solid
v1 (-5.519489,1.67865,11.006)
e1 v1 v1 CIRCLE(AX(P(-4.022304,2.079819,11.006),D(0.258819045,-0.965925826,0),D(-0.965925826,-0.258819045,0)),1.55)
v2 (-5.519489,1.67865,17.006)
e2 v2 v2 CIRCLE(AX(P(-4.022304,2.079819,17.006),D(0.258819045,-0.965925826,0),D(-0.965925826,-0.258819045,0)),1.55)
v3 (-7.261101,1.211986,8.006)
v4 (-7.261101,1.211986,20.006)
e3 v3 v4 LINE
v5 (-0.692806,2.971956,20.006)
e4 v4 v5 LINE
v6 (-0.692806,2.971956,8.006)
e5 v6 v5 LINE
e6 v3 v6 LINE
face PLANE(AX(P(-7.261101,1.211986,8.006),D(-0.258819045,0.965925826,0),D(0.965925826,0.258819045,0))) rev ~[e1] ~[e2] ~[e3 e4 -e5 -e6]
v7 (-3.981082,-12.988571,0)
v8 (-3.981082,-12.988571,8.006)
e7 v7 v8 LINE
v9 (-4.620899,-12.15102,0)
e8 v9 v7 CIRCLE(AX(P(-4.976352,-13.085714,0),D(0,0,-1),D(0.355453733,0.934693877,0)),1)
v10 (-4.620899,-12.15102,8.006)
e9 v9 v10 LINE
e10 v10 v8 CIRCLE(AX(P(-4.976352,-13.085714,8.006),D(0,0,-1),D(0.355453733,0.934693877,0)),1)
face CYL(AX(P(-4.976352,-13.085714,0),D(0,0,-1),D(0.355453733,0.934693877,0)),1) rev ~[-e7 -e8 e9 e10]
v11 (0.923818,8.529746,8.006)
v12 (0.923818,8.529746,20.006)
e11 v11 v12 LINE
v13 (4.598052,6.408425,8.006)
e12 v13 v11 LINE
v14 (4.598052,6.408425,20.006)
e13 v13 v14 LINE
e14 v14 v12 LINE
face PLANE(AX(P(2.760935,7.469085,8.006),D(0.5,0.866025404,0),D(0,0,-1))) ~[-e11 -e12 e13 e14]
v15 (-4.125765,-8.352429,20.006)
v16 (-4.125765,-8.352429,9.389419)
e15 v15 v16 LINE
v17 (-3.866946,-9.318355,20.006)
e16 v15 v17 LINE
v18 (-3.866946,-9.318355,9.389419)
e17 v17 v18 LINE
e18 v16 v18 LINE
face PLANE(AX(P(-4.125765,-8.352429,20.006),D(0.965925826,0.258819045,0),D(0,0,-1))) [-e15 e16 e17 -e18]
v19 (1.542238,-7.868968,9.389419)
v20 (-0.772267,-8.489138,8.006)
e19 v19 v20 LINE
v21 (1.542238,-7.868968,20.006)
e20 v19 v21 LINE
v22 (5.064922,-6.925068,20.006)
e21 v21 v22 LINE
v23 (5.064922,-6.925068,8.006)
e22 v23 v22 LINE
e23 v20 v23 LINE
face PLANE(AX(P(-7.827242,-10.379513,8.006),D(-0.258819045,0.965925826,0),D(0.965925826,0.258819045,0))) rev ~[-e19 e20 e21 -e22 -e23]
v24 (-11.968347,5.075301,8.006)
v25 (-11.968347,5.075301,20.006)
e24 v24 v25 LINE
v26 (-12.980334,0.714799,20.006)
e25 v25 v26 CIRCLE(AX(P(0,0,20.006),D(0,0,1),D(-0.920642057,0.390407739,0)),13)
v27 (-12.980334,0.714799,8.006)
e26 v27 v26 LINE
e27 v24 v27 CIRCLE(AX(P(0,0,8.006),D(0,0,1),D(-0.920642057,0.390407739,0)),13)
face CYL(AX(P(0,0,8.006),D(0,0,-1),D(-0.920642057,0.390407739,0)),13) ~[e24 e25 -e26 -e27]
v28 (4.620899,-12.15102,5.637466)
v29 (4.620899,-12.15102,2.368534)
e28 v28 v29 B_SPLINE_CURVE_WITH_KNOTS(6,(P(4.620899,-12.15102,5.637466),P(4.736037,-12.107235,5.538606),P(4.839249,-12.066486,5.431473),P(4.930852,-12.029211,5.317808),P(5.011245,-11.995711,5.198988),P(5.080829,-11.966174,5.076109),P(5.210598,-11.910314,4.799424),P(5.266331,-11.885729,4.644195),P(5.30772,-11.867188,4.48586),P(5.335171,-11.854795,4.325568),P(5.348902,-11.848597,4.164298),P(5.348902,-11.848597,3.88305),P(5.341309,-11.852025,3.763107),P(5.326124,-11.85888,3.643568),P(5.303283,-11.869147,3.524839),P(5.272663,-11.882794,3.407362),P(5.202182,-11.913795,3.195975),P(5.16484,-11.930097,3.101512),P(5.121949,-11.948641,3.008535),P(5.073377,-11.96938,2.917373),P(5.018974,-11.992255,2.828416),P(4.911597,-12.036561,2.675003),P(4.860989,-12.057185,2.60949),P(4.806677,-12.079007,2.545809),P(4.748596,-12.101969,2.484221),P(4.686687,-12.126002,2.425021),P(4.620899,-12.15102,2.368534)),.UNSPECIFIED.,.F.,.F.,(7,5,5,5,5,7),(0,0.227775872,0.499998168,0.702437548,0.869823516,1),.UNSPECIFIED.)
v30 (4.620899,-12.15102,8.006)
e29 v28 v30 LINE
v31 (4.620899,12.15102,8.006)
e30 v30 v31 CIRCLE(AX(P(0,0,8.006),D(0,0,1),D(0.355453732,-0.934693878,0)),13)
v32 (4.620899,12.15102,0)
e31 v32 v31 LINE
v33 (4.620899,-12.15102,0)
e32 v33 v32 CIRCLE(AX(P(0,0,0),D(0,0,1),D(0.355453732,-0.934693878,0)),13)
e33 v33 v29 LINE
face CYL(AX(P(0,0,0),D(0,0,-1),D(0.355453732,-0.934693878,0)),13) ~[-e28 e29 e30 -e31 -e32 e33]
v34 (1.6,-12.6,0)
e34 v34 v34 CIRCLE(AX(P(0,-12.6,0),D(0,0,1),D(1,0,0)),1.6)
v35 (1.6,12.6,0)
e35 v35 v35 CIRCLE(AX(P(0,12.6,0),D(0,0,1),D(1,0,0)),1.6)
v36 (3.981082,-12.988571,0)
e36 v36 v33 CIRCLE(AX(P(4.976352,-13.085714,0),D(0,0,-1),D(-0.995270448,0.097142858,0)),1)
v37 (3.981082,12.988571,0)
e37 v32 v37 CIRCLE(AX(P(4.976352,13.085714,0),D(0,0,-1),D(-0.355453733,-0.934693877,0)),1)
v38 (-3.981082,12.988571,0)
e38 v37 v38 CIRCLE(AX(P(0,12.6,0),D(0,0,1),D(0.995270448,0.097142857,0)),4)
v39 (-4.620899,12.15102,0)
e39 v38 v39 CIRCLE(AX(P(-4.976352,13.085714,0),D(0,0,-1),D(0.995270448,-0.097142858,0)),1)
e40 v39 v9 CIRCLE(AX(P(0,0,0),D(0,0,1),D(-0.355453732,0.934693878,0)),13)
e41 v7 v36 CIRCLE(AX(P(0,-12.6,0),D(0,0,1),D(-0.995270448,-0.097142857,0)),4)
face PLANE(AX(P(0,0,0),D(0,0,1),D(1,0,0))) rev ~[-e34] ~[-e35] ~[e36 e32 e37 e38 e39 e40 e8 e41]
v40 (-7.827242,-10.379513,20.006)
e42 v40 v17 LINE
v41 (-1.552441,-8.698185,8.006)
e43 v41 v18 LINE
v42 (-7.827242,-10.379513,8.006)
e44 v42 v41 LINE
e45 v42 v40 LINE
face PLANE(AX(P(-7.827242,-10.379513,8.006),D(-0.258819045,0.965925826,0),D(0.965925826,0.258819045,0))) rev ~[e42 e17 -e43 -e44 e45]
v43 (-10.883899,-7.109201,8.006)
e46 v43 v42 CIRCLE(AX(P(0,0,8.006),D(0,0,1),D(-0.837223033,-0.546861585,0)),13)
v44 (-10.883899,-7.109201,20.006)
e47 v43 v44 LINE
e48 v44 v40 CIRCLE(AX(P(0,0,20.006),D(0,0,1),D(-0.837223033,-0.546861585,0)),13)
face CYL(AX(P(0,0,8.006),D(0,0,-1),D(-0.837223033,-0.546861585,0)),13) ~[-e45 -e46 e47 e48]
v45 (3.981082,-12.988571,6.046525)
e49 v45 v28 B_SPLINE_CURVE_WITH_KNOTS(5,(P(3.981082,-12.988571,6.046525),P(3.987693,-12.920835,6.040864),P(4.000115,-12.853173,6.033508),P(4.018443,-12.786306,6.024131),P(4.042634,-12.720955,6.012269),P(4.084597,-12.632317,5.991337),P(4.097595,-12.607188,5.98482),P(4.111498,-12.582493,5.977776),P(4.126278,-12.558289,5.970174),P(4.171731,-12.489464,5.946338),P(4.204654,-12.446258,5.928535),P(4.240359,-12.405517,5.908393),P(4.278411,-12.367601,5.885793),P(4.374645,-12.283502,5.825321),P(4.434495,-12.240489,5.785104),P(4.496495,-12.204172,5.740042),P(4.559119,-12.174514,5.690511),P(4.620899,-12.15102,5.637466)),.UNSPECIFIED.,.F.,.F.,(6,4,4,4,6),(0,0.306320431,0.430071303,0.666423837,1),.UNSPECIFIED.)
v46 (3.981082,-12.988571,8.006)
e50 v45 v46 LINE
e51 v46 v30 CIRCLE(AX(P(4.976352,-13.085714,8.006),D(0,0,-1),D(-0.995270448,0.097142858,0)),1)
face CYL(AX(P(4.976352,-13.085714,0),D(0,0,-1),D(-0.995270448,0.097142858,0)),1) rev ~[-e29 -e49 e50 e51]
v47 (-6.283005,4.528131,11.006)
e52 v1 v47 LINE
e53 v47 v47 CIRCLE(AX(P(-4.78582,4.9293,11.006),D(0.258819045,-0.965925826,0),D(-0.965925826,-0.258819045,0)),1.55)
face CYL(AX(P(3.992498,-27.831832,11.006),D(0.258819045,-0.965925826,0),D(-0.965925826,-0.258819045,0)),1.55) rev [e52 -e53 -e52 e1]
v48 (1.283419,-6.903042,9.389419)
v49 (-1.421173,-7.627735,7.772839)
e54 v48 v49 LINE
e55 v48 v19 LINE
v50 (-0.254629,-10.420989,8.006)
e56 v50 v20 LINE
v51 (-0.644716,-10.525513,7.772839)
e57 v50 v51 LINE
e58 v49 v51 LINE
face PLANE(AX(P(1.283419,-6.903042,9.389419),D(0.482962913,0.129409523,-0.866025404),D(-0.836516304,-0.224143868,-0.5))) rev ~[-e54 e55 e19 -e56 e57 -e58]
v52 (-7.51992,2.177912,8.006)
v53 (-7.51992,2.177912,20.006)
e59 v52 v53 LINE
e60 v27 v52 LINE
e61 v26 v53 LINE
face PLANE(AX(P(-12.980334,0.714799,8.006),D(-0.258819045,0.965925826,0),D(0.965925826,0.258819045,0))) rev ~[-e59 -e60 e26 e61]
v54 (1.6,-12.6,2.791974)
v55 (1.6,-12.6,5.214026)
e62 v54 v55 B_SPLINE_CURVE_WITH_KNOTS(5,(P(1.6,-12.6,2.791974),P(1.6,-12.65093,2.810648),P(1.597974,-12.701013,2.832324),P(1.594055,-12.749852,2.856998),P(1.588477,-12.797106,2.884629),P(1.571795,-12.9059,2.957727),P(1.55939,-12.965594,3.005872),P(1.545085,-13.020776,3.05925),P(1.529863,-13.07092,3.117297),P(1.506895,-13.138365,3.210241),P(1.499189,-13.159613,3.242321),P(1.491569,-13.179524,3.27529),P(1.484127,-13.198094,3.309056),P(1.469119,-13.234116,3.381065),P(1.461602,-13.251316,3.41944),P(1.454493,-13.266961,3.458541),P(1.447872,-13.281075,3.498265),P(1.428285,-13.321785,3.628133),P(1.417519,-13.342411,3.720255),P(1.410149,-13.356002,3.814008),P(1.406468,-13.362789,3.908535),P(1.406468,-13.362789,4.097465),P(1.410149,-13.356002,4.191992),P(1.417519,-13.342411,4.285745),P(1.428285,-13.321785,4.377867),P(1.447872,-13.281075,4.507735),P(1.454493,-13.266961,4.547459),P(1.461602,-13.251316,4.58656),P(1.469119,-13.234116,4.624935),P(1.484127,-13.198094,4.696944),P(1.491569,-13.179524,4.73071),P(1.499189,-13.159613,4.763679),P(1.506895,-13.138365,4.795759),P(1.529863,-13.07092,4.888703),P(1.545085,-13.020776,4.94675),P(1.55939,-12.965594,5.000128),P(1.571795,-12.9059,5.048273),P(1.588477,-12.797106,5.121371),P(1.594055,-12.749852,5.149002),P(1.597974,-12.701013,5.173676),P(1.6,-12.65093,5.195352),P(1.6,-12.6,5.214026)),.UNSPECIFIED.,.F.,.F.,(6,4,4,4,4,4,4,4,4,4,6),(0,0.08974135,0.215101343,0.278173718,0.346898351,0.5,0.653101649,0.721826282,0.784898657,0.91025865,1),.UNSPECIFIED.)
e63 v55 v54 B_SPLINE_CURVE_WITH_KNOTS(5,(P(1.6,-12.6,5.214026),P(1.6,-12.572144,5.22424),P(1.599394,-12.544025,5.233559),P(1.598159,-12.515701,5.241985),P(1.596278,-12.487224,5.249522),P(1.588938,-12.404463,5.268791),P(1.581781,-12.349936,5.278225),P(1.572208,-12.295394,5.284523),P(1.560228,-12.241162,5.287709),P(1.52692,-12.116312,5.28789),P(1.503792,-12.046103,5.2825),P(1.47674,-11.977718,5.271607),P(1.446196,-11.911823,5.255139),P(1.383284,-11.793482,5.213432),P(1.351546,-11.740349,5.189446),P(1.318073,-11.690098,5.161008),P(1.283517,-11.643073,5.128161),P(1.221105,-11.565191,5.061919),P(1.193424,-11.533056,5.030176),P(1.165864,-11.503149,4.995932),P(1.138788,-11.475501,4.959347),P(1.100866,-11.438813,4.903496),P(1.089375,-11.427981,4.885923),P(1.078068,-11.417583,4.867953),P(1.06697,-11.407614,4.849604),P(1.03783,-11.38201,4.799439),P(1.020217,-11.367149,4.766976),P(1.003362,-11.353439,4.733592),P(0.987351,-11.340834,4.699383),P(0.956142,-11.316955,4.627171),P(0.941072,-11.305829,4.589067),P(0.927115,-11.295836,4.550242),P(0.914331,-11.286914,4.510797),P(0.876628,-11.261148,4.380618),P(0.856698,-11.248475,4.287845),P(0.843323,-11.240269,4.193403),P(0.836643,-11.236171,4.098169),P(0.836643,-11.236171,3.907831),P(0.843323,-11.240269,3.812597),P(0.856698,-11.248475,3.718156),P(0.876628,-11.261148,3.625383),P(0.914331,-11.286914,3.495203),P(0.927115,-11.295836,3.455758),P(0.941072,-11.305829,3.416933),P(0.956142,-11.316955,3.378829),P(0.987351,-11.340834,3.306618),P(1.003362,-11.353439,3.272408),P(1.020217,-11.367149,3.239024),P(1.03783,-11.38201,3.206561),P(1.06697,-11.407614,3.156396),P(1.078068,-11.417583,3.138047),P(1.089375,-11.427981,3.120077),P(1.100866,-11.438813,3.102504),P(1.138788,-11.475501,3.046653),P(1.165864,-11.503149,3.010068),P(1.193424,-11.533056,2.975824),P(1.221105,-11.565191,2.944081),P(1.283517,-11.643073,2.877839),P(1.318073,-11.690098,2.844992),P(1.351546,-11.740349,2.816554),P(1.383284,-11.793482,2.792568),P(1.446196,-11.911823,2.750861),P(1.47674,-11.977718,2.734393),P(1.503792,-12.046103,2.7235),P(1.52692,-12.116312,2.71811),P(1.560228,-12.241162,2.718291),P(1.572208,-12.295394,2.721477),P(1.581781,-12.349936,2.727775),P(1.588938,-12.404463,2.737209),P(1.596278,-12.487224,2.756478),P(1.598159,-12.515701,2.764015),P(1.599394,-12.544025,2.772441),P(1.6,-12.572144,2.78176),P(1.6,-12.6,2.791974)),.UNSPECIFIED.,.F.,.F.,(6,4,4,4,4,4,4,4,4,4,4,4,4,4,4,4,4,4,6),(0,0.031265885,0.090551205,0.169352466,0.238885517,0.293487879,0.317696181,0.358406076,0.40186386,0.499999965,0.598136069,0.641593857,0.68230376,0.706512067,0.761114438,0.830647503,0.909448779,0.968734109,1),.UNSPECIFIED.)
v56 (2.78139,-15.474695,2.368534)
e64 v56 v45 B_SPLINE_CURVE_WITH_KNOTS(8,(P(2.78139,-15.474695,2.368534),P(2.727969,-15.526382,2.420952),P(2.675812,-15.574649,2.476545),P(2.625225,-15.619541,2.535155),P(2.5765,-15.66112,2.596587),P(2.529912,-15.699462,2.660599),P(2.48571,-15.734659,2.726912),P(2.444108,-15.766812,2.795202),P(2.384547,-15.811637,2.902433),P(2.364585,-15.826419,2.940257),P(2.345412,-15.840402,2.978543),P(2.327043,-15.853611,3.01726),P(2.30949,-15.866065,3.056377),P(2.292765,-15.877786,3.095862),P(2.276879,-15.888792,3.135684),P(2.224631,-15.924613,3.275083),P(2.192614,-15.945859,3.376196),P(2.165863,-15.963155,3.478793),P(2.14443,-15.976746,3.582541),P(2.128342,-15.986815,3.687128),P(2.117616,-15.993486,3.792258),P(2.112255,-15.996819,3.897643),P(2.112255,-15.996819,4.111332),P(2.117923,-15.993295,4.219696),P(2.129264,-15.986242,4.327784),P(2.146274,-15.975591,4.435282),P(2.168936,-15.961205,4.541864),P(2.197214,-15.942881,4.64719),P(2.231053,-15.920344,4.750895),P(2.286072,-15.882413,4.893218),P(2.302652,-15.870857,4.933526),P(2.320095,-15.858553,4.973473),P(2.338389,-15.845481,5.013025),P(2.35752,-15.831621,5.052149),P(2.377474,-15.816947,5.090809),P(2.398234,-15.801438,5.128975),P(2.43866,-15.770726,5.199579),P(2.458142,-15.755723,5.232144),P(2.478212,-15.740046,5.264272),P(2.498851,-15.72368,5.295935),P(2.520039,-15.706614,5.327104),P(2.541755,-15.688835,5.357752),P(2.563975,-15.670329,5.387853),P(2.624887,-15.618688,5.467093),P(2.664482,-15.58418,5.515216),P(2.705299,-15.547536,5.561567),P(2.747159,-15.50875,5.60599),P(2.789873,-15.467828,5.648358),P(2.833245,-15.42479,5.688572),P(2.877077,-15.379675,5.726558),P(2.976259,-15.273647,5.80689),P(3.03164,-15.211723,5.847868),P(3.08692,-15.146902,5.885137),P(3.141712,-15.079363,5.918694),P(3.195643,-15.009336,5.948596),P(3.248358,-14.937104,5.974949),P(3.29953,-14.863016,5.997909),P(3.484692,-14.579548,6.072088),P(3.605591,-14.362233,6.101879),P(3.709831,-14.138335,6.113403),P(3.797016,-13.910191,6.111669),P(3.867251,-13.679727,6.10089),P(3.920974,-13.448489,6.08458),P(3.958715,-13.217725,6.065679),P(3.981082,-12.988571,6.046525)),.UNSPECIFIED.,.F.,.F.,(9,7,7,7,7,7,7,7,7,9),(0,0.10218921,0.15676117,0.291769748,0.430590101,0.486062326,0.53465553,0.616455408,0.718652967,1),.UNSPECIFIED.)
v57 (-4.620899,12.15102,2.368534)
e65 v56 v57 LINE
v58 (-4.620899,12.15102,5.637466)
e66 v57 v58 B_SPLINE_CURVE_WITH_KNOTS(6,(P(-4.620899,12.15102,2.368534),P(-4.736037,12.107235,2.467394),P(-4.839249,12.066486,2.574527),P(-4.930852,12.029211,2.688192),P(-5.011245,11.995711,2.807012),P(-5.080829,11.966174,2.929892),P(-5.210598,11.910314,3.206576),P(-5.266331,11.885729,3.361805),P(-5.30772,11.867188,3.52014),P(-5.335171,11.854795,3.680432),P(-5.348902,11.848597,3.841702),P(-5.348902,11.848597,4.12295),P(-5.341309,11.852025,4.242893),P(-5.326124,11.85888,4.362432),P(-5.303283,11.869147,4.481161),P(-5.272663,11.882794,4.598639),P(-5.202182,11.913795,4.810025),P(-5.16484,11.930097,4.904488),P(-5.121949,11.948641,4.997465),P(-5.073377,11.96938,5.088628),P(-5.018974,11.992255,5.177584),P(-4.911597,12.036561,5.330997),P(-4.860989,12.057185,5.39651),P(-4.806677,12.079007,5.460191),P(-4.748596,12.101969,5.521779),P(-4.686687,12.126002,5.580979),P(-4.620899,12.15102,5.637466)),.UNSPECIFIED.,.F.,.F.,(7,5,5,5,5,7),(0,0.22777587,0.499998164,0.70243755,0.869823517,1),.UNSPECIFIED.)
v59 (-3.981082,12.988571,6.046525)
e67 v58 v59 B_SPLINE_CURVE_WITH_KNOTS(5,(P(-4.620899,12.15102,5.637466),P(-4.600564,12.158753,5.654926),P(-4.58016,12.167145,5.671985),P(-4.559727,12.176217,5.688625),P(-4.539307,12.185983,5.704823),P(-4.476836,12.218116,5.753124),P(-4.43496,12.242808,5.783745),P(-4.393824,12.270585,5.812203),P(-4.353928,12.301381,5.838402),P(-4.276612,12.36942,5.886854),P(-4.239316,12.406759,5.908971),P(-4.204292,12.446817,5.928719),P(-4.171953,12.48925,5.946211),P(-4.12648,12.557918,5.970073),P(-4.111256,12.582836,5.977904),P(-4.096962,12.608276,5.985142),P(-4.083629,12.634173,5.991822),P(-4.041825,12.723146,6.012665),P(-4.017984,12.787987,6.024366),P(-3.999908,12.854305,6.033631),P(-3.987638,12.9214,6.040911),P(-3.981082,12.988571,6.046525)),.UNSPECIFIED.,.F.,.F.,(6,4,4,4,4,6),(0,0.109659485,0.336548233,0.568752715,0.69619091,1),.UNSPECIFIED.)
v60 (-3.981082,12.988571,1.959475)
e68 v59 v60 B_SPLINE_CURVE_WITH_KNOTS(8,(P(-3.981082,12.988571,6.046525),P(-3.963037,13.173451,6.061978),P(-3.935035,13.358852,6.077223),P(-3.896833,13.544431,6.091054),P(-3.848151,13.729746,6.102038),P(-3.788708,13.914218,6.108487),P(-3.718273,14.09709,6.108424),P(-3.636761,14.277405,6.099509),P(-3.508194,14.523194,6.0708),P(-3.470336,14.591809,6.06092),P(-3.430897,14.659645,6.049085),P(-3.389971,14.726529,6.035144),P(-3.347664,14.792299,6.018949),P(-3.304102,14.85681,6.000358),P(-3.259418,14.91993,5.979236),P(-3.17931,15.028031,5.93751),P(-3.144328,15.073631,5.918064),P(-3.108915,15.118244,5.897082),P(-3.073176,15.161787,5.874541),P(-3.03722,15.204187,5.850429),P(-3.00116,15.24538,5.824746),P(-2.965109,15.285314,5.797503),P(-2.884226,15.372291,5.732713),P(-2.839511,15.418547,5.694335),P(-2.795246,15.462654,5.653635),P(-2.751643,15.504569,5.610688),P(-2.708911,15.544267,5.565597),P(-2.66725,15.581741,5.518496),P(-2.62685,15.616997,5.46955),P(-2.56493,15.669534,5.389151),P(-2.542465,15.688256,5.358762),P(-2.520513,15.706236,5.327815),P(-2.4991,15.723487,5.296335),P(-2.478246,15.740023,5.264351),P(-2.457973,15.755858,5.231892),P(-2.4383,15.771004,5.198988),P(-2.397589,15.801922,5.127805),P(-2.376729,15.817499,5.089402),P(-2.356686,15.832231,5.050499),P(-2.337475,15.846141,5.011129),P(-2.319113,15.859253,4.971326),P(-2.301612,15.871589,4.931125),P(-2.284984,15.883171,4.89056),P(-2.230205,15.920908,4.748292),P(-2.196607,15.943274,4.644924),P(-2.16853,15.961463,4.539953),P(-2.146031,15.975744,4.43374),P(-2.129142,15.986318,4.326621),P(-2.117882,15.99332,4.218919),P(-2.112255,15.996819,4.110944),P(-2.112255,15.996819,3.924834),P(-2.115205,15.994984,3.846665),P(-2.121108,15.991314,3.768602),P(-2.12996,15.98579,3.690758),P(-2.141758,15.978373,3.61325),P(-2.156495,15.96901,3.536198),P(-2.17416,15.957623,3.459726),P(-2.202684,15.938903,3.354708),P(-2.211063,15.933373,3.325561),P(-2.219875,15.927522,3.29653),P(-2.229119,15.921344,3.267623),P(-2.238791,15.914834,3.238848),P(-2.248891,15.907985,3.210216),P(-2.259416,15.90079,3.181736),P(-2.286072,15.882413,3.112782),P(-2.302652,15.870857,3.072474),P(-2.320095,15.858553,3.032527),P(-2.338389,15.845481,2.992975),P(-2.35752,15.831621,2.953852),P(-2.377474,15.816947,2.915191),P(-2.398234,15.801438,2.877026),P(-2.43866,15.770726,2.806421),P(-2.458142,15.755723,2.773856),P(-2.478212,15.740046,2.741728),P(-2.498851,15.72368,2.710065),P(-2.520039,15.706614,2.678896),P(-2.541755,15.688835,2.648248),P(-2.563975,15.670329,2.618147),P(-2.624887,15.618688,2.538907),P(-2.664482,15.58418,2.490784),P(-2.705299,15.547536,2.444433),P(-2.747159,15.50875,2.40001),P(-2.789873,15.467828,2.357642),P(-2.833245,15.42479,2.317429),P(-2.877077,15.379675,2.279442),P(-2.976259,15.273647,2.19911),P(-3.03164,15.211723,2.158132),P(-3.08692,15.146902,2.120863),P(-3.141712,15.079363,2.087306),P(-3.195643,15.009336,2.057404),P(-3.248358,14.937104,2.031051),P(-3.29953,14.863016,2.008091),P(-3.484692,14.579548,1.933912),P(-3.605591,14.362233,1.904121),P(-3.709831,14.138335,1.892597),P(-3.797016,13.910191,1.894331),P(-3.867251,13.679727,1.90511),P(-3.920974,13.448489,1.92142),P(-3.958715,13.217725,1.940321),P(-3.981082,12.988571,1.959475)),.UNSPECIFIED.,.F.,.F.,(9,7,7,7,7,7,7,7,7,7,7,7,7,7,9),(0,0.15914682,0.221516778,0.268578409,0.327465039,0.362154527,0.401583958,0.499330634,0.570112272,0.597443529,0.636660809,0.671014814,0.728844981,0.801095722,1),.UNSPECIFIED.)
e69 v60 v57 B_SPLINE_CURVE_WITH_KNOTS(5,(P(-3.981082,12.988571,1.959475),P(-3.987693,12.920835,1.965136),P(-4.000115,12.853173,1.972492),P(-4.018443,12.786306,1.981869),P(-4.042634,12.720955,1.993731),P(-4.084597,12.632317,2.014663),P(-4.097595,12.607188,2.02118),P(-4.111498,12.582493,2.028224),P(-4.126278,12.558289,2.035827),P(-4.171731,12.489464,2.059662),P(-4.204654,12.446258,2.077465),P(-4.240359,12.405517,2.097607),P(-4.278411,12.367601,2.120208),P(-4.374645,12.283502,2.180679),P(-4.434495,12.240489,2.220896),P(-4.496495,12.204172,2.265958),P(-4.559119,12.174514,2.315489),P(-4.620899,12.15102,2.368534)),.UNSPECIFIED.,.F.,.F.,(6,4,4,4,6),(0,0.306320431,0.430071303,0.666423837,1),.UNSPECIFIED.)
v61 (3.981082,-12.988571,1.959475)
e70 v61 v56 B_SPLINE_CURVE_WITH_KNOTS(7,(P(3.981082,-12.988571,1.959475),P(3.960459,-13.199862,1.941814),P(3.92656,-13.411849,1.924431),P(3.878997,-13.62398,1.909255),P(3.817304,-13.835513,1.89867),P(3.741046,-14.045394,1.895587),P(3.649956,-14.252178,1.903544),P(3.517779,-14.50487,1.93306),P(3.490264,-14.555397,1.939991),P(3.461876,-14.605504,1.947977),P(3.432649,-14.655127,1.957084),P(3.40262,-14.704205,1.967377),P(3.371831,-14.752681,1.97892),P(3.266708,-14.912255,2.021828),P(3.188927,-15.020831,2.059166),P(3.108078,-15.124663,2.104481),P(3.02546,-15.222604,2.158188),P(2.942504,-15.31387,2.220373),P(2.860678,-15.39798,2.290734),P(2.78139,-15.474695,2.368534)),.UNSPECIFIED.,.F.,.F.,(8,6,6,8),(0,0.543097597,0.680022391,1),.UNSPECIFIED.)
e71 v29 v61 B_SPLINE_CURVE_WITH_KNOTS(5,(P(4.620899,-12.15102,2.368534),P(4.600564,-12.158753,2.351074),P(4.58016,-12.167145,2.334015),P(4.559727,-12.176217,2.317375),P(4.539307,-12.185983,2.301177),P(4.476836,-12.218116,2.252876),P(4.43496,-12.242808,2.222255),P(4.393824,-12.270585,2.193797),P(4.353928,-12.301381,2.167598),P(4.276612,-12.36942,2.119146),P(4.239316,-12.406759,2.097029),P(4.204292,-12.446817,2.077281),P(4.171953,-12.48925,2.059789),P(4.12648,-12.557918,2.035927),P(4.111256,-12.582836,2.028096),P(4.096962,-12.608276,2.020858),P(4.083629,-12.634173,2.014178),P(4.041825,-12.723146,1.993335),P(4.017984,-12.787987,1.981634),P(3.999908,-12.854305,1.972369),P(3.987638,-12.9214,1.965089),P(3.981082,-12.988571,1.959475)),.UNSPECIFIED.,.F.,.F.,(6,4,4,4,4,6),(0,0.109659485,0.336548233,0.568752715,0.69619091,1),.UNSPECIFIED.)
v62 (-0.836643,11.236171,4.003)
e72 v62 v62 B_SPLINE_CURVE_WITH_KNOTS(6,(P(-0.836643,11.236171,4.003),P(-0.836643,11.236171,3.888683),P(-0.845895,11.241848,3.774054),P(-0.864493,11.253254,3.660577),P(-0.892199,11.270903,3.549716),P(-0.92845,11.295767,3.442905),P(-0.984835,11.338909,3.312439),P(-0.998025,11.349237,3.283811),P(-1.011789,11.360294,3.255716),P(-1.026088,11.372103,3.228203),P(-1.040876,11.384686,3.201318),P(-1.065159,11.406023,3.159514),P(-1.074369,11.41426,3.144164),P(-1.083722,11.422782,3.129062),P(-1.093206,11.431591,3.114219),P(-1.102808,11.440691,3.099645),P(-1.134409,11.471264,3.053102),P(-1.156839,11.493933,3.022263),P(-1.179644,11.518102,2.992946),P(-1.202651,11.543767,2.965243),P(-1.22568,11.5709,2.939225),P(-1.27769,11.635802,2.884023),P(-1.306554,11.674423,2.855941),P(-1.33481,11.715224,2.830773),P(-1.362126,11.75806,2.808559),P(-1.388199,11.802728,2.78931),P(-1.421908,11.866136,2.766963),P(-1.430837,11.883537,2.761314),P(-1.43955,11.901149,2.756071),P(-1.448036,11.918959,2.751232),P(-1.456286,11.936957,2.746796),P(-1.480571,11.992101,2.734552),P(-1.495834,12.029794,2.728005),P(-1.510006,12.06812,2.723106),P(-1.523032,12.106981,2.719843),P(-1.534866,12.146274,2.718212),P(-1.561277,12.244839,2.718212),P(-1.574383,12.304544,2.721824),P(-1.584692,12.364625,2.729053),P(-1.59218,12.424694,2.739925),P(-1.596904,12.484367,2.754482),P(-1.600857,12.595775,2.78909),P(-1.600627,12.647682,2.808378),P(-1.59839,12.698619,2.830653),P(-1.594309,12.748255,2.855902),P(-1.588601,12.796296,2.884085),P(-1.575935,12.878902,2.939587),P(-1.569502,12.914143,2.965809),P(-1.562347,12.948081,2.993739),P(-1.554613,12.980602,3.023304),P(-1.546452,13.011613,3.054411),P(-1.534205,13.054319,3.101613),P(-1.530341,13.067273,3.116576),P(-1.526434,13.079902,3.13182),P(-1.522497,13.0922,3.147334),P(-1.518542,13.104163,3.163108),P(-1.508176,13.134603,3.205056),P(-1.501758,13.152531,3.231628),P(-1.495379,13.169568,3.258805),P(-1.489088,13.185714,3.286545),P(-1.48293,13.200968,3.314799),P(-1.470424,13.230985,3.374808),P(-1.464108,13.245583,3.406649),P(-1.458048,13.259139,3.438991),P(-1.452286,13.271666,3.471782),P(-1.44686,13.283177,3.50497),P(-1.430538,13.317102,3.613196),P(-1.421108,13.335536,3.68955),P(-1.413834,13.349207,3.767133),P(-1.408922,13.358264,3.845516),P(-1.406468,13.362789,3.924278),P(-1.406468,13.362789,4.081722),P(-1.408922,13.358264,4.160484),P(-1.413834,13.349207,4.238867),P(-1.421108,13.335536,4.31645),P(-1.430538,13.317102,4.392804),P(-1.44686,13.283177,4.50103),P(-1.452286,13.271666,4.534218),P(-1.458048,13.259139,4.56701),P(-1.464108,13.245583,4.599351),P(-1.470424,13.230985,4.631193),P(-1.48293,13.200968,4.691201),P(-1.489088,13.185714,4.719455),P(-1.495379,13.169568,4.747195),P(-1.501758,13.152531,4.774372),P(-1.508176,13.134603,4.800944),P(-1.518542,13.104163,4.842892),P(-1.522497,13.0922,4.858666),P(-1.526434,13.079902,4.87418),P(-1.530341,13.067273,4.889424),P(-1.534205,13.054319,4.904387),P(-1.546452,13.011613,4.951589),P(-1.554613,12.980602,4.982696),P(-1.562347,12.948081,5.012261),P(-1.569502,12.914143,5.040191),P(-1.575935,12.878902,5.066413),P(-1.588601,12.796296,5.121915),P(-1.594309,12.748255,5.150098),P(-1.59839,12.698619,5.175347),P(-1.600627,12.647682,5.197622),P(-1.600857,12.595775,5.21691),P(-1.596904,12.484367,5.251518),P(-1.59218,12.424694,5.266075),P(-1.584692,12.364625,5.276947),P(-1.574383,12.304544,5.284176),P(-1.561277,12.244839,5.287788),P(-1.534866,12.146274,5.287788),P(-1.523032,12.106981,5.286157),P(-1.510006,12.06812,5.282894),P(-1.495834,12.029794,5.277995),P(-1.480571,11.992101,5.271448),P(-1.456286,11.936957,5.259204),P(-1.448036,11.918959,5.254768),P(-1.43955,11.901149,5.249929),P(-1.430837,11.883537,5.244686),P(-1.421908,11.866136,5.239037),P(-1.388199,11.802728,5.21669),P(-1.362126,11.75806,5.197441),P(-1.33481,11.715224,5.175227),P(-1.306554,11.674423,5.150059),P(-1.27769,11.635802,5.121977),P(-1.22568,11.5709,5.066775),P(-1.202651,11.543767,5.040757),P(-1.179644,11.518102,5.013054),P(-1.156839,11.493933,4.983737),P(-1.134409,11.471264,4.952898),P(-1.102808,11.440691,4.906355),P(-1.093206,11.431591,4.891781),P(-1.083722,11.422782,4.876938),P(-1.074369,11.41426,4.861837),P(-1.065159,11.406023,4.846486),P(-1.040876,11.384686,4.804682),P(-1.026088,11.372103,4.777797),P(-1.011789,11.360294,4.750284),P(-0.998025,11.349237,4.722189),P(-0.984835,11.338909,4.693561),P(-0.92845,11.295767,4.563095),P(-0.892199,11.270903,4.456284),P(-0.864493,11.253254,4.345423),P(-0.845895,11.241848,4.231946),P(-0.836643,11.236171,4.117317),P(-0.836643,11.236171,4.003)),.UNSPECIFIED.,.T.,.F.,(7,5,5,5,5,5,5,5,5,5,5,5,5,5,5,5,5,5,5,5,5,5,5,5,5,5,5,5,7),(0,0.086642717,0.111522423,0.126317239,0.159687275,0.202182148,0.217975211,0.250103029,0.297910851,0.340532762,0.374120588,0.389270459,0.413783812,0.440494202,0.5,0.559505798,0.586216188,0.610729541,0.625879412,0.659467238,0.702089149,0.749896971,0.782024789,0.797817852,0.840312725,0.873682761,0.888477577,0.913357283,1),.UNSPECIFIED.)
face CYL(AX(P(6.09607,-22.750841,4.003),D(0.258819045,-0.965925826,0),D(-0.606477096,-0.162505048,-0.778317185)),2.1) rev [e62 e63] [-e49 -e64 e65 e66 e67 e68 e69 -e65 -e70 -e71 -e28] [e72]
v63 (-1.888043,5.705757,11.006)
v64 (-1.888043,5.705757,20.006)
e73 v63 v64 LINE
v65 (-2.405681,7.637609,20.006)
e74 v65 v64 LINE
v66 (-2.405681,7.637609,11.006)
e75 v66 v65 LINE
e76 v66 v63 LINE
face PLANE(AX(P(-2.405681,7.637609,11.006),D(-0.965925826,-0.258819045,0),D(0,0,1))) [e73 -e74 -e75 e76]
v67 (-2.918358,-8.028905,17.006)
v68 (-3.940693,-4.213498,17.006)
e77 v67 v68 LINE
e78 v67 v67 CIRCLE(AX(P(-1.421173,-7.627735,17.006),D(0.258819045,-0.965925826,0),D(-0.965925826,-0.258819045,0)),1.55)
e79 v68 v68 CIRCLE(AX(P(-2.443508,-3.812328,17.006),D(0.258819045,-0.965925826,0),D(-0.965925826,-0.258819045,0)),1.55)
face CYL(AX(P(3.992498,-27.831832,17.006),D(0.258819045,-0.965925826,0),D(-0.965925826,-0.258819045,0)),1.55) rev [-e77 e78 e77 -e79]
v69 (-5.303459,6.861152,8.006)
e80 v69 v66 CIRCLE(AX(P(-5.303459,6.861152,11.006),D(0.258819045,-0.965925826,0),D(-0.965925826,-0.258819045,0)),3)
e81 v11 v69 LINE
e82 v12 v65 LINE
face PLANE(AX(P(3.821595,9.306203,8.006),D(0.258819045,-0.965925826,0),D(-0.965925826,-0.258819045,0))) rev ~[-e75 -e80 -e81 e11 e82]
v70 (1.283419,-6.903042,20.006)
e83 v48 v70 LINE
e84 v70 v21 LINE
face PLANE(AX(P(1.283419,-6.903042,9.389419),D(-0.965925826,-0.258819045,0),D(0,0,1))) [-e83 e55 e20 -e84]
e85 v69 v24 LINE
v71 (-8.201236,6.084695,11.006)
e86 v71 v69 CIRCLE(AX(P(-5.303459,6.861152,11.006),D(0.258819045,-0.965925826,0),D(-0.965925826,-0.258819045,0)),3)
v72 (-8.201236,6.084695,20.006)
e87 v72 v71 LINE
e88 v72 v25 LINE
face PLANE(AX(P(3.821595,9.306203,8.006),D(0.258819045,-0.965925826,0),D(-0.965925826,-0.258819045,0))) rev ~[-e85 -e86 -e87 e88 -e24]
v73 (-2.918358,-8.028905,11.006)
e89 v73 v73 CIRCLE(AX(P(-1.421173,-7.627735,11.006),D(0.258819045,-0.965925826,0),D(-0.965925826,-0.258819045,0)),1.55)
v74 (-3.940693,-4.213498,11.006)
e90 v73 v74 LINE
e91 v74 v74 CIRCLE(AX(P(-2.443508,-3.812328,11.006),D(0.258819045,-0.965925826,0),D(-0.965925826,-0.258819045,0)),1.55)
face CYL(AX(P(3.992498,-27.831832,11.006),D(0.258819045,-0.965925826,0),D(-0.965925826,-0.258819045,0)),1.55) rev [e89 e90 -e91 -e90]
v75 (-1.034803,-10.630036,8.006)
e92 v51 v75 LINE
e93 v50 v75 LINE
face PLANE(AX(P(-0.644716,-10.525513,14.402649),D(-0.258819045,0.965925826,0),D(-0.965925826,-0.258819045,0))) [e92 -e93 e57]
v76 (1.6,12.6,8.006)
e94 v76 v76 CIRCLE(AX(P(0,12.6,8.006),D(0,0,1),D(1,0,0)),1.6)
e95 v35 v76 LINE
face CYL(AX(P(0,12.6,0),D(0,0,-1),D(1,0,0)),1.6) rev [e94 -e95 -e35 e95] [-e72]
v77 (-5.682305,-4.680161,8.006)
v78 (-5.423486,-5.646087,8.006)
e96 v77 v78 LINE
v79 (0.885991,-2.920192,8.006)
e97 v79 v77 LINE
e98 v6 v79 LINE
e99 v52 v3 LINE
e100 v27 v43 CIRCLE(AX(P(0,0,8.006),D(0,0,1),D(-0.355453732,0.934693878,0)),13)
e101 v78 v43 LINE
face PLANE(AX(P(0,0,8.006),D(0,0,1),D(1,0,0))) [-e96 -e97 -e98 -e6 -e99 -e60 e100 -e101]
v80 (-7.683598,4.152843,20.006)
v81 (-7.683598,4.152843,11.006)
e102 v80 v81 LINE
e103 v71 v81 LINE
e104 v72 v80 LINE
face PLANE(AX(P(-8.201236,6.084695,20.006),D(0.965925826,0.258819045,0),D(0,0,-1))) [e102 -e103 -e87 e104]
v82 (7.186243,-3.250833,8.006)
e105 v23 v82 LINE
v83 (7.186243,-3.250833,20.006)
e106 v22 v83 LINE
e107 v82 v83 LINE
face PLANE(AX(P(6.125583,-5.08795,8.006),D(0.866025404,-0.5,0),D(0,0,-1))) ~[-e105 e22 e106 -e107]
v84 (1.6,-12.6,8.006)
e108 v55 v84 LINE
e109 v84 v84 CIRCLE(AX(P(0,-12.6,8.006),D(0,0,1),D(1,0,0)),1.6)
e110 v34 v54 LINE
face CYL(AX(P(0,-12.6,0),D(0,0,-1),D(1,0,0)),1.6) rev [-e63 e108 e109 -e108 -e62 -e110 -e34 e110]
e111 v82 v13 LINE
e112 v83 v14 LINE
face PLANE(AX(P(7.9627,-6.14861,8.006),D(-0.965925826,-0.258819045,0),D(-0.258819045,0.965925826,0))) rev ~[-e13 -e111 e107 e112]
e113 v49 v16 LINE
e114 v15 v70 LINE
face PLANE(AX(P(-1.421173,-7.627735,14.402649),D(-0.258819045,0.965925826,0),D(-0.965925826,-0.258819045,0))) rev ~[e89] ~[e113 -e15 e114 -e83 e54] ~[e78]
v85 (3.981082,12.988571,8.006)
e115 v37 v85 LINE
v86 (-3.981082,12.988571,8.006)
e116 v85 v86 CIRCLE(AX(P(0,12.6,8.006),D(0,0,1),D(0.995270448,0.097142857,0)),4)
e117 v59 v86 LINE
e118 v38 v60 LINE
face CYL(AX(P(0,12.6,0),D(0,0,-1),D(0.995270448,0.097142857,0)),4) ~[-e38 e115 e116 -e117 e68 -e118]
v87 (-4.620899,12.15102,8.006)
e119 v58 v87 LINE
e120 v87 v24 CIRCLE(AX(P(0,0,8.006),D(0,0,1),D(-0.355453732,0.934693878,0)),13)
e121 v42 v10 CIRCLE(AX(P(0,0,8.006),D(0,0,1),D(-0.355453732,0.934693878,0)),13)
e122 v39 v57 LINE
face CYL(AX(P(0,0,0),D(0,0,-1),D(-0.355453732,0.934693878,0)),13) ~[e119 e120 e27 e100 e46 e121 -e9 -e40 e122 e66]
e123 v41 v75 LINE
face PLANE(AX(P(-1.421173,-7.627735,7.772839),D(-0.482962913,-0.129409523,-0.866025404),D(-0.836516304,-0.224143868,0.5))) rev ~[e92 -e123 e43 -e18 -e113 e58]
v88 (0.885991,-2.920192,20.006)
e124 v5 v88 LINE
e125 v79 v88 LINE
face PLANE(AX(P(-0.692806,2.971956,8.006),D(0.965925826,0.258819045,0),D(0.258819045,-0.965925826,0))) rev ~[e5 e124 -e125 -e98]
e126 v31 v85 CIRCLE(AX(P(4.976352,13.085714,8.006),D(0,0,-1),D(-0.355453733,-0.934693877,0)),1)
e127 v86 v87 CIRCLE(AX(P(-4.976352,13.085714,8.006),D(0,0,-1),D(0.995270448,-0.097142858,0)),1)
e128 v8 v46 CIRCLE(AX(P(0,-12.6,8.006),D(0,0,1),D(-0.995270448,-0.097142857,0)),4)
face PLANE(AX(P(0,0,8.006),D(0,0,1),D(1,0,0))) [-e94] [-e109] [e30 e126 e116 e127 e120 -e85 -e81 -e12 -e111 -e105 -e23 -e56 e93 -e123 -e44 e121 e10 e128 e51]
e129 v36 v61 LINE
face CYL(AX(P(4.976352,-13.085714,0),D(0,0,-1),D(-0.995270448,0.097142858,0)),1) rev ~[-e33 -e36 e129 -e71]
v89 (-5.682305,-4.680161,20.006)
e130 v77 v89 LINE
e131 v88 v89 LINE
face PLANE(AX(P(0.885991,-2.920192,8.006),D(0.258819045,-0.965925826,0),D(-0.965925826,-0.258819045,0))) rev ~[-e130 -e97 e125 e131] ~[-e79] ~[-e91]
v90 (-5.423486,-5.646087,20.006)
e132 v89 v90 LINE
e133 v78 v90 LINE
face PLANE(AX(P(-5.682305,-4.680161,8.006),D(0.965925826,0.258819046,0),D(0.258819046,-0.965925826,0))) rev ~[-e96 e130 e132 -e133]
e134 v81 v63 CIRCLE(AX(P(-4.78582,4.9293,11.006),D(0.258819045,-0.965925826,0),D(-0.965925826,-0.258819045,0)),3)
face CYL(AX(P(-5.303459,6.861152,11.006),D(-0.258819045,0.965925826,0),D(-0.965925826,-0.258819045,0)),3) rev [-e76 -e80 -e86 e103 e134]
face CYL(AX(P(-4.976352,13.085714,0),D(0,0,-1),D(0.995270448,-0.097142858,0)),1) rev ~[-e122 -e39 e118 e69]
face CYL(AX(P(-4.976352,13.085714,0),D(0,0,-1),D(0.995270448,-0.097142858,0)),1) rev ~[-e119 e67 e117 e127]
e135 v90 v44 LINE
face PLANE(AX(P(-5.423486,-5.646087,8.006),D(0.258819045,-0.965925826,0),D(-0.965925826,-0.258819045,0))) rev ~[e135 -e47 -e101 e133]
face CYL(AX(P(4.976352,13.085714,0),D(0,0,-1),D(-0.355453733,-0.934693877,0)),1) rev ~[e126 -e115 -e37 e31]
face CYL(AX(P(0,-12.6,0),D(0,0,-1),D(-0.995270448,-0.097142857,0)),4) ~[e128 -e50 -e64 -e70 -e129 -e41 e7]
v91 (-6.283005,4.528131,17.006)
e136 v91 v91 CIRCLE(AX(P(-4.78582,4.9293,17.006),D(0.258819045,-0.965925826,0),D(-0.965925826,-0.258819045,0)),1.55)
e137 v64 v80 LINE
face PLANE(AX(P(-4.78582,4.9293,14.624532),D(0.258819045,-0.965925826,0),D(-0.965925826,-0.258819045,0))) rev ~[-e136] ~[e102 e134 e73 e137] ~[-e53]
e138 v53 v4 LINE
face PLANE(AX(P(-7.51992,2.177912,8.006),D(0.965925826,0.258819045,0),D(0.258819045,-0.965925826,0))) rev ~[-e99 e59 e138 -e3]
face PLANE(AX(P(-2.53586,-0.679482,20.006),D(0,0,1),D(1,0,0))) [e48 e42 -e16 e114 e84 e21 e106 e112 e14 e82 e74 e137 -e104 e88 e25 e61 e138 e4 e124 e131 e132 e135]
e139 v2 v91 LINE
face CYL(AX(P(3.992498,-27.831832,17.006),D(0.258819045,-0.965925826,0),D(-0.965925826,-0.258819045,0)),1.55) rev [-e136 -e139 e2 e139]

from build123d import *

# Parameters (mm, degrees)
SKETCH1_R               = 1.6
BOSS_EXTRUDE1_DEPTH     = 8.00600005
CUT_EXTRUDE1_DEPTH      = 23.553404107
CUT_EXTRUDE1_DEPTH_BACK = 23.553404107
SKETCH3_R               = 2.1
BOSS_EXTRUDE2_DEPTH     = 12
CHAMFER1_SIZE           = 3
CUT_EXTRUDE4_DEPTH      = 35.916819883
CUT_EXTRUDE4_DEPTH_BACK = 35.916819883
SKETCH7_R               = 1.55
CUT_EXTRUDE5_DEPTH      = 2
CUT_EXTRUDE5_DEPTH_BACK = 1
CUT_EXTRUDE6_DEPTH      = 2


with BuildPart() as part:
    # Sketch1 → Boss-Extrude1 (new body)
    with BuildSketch(Plane.XY):
        with BuildLine():
            ThreePointArc((4.62089851, -12.151020408), (13, 0), (4.62089851, 12.151020408))
            ThreePointArc((4.62089851, 12.151020408), (4.181690754, 12.478661471), (3.981081793, 12.988571429))
            ThreePointArc((3.981081793, 12.988571429), (0, 16.6), (-3.981081793, 12.988571429))
            ThreePointArc((-3.981081793, 12.988571429), (-4.181690754, 12.478661471), (-4.62089851, 12.151020408))
            ThreePointArc((-4.62089851, 12.151020408), (-13, 0), (-4.62089851, -12.151020408))
            ThreePointArc((-4.62089851, -12.151020408), (-4.181690754, -12.478661471), (-3.981081793, -12.988571429))
            ThreePointArc((-3.981081793, -12.988571429), (0, -16.6), (3.981081793, -12.988571429))
            ThreePointArc((3.981081793, -12.988571429), (4.181690754, -12.478661471), (4.62089851, -12.151020408))
        make_face()
        with Locations((0, 12.6)):
            Circle(SKETCH1_R, mode=Mode.SUBTRACT)
        with Locations((0, -12.6)):
            Circle(SKETCH1_R, mode=Mode.SUBTRACT)
    extrude(amount=BOSS_EXTRUDE1_DEPTH)

    # Sketch3 → Cut-Extrude1 (cut, two sides: drawn at the far end of the back side and taken through both)
    with BuildSketch(Plane(origin=(0, 0, 0), x_dir=(0, 0, 1), z_dir=(-0.25881904510252135, 0.9659258262890681, 0)).offset(-CUT_EXTRUDE1_DEPTH_BACK)):
        with Locations((4.003000025, 0)):
            Circle(SKETCH3_R)
    extrude(amount=CUT_EXTRUDE1_DEPTH + CUT_EXTRUDE1_DEPTH_BACK, mode=Mode.SUBTRACT)

    # Sketch6 → Boss-Extrude2 (add)
    with BuildSketch(Plane.XY.offset(8.00600005)):
        with BuildLine():
            Line((-7.827242025, -10.379512623), (7.962699901, -6.148610435))
            Line((7.962699901, -6.148610435), (3.82159518, 9.306202785))
            Line((3.82159518, 9.306202785), (-11.968346746, 5.075300598))
            ThreePointArc((-11.968346746, 5.075300598), (-12.66343786, 2.938935449), (-12.9803337, 0.714798598))
            Line((-12.9803337, 0.714798598), (-7.519920169, 2.177911994))
            Line((-7.519920169, 2.177911994), (-7.261101124, 1.211986168))
            Line((-7.261101124, 1.211986168), (-0.692805505, 2.971955675))
            Line((-0.692805505, 2.971955675), (0.88599067, -2.920191866))
            Line((0.88599067, -2.920191866), (-5.682304949, -4.680161372))
            Line((-5.682304949, -4.680161372), (-5.423485903, -5.646087199))
            Line((-5.423485903, -5.646087199), (-10.883899435, -7.109200595))
            ThreePointArc((-10.883899435, -7.109200595), (-9.497391161, -8.876911689), (-7.827242025, -10.379512623))
        make_face()
    extrude(amount=BOSS_EXTRUDE2_DEPTH)

    # Chamfer1
    chamfer1_edges = [part.edges().sort_by_distance(p)[0] for p in [
        (7.962699901, -6.148610435, 14.00600005),
        (3.82159518, 9.306202785, 14.00600005),
    ]]
    chamfer(chamfer1_edges, length=CHAMFER1_SIZE)

    # Sketch7 → Cut-Extrude4 (cut, two sides: drawn at the far end of the back side and taken through both)
    with BuildSketch(Plane(origin=(-2.070552361, 7.72740661, 0), x_dir=(0.9659258262890701, 0.2588190451025142, 0), z_dir=(-0.2588190451025142, 0.9659258262890701, 0)).offset(-CUT_EXTRUDE4_DEPTH_BACK)):
        with Locations((-3.346950766, -17.00600005)):
            Circle(SKETCH7_R)
        with Locations((-3.346950766, -11.00600005)):
            Circle(SKETCH7_R)
    extrude(amount=CUT_EXTRUDE4_DEPTH + CUT_EXTRUDE4_DEPTH_BACK, mode=Mode.SUBTRACT)

    # Sketch8 → Cut-Extrude5 (cut, two sides: drawn at the far end of the back side and taken through both)
    with BuildSketch(Plane(origin=(2.070552361, -7.72740661, 0), x_dir=(0.9659258262890699, 0.25881904510251513, 0), z_dir=(0.2588190451025151, -0.9659258262890698, 0)).offset(-CUT_EXTRUDE5_DEPTH_BACK)):
        Polygon((-6.146950766, 12.622580803), (-6.146950766, 20.00600005), (-0.546950766, 20.00600005), (-0.546950766, 12.622580803), (-0.546950766, 9.389419296), (-3.346950766, 7.772838542), (-6.146950766, 9.389419296), align=None)
    extrude(amount=CUT_EXTRUDE5_DEPTH + CUT_EXTRUDE5_DEPTH_BACK, mode=Mode.SUBTRACT)

    # Sketch9 → Cut-Extrude6 (cut)
    with BuildSketch(Plane(origin=(-2.070552361, 7.72740661, 0), x_dir=(0.9659258262890701, 0.2588190451025142, 0), z_dir=(-0.2588190451025142, 0.9659258262890701, 0))):
        with BuildLine():
            Line((-6.346950766, -20.00600005), (-6.346950766, -11.00600005))
            ThreePointArc((-6.346950766, -11.00600005), (-3.346950766, -8.00600005), (-0.346950766, -11.00600005))
            Line((-0.346950766, -11.00600005), (-0.346950766, -20.00600005))
            Line((-0.346950766, -20.00600005), (-6.346950766, -20.00600005))
        make_face()
    extrude(amount=-CUT_EXTRUDE6_DEPTH, mode=Mode.SUBTRACT)


solid = part.part
